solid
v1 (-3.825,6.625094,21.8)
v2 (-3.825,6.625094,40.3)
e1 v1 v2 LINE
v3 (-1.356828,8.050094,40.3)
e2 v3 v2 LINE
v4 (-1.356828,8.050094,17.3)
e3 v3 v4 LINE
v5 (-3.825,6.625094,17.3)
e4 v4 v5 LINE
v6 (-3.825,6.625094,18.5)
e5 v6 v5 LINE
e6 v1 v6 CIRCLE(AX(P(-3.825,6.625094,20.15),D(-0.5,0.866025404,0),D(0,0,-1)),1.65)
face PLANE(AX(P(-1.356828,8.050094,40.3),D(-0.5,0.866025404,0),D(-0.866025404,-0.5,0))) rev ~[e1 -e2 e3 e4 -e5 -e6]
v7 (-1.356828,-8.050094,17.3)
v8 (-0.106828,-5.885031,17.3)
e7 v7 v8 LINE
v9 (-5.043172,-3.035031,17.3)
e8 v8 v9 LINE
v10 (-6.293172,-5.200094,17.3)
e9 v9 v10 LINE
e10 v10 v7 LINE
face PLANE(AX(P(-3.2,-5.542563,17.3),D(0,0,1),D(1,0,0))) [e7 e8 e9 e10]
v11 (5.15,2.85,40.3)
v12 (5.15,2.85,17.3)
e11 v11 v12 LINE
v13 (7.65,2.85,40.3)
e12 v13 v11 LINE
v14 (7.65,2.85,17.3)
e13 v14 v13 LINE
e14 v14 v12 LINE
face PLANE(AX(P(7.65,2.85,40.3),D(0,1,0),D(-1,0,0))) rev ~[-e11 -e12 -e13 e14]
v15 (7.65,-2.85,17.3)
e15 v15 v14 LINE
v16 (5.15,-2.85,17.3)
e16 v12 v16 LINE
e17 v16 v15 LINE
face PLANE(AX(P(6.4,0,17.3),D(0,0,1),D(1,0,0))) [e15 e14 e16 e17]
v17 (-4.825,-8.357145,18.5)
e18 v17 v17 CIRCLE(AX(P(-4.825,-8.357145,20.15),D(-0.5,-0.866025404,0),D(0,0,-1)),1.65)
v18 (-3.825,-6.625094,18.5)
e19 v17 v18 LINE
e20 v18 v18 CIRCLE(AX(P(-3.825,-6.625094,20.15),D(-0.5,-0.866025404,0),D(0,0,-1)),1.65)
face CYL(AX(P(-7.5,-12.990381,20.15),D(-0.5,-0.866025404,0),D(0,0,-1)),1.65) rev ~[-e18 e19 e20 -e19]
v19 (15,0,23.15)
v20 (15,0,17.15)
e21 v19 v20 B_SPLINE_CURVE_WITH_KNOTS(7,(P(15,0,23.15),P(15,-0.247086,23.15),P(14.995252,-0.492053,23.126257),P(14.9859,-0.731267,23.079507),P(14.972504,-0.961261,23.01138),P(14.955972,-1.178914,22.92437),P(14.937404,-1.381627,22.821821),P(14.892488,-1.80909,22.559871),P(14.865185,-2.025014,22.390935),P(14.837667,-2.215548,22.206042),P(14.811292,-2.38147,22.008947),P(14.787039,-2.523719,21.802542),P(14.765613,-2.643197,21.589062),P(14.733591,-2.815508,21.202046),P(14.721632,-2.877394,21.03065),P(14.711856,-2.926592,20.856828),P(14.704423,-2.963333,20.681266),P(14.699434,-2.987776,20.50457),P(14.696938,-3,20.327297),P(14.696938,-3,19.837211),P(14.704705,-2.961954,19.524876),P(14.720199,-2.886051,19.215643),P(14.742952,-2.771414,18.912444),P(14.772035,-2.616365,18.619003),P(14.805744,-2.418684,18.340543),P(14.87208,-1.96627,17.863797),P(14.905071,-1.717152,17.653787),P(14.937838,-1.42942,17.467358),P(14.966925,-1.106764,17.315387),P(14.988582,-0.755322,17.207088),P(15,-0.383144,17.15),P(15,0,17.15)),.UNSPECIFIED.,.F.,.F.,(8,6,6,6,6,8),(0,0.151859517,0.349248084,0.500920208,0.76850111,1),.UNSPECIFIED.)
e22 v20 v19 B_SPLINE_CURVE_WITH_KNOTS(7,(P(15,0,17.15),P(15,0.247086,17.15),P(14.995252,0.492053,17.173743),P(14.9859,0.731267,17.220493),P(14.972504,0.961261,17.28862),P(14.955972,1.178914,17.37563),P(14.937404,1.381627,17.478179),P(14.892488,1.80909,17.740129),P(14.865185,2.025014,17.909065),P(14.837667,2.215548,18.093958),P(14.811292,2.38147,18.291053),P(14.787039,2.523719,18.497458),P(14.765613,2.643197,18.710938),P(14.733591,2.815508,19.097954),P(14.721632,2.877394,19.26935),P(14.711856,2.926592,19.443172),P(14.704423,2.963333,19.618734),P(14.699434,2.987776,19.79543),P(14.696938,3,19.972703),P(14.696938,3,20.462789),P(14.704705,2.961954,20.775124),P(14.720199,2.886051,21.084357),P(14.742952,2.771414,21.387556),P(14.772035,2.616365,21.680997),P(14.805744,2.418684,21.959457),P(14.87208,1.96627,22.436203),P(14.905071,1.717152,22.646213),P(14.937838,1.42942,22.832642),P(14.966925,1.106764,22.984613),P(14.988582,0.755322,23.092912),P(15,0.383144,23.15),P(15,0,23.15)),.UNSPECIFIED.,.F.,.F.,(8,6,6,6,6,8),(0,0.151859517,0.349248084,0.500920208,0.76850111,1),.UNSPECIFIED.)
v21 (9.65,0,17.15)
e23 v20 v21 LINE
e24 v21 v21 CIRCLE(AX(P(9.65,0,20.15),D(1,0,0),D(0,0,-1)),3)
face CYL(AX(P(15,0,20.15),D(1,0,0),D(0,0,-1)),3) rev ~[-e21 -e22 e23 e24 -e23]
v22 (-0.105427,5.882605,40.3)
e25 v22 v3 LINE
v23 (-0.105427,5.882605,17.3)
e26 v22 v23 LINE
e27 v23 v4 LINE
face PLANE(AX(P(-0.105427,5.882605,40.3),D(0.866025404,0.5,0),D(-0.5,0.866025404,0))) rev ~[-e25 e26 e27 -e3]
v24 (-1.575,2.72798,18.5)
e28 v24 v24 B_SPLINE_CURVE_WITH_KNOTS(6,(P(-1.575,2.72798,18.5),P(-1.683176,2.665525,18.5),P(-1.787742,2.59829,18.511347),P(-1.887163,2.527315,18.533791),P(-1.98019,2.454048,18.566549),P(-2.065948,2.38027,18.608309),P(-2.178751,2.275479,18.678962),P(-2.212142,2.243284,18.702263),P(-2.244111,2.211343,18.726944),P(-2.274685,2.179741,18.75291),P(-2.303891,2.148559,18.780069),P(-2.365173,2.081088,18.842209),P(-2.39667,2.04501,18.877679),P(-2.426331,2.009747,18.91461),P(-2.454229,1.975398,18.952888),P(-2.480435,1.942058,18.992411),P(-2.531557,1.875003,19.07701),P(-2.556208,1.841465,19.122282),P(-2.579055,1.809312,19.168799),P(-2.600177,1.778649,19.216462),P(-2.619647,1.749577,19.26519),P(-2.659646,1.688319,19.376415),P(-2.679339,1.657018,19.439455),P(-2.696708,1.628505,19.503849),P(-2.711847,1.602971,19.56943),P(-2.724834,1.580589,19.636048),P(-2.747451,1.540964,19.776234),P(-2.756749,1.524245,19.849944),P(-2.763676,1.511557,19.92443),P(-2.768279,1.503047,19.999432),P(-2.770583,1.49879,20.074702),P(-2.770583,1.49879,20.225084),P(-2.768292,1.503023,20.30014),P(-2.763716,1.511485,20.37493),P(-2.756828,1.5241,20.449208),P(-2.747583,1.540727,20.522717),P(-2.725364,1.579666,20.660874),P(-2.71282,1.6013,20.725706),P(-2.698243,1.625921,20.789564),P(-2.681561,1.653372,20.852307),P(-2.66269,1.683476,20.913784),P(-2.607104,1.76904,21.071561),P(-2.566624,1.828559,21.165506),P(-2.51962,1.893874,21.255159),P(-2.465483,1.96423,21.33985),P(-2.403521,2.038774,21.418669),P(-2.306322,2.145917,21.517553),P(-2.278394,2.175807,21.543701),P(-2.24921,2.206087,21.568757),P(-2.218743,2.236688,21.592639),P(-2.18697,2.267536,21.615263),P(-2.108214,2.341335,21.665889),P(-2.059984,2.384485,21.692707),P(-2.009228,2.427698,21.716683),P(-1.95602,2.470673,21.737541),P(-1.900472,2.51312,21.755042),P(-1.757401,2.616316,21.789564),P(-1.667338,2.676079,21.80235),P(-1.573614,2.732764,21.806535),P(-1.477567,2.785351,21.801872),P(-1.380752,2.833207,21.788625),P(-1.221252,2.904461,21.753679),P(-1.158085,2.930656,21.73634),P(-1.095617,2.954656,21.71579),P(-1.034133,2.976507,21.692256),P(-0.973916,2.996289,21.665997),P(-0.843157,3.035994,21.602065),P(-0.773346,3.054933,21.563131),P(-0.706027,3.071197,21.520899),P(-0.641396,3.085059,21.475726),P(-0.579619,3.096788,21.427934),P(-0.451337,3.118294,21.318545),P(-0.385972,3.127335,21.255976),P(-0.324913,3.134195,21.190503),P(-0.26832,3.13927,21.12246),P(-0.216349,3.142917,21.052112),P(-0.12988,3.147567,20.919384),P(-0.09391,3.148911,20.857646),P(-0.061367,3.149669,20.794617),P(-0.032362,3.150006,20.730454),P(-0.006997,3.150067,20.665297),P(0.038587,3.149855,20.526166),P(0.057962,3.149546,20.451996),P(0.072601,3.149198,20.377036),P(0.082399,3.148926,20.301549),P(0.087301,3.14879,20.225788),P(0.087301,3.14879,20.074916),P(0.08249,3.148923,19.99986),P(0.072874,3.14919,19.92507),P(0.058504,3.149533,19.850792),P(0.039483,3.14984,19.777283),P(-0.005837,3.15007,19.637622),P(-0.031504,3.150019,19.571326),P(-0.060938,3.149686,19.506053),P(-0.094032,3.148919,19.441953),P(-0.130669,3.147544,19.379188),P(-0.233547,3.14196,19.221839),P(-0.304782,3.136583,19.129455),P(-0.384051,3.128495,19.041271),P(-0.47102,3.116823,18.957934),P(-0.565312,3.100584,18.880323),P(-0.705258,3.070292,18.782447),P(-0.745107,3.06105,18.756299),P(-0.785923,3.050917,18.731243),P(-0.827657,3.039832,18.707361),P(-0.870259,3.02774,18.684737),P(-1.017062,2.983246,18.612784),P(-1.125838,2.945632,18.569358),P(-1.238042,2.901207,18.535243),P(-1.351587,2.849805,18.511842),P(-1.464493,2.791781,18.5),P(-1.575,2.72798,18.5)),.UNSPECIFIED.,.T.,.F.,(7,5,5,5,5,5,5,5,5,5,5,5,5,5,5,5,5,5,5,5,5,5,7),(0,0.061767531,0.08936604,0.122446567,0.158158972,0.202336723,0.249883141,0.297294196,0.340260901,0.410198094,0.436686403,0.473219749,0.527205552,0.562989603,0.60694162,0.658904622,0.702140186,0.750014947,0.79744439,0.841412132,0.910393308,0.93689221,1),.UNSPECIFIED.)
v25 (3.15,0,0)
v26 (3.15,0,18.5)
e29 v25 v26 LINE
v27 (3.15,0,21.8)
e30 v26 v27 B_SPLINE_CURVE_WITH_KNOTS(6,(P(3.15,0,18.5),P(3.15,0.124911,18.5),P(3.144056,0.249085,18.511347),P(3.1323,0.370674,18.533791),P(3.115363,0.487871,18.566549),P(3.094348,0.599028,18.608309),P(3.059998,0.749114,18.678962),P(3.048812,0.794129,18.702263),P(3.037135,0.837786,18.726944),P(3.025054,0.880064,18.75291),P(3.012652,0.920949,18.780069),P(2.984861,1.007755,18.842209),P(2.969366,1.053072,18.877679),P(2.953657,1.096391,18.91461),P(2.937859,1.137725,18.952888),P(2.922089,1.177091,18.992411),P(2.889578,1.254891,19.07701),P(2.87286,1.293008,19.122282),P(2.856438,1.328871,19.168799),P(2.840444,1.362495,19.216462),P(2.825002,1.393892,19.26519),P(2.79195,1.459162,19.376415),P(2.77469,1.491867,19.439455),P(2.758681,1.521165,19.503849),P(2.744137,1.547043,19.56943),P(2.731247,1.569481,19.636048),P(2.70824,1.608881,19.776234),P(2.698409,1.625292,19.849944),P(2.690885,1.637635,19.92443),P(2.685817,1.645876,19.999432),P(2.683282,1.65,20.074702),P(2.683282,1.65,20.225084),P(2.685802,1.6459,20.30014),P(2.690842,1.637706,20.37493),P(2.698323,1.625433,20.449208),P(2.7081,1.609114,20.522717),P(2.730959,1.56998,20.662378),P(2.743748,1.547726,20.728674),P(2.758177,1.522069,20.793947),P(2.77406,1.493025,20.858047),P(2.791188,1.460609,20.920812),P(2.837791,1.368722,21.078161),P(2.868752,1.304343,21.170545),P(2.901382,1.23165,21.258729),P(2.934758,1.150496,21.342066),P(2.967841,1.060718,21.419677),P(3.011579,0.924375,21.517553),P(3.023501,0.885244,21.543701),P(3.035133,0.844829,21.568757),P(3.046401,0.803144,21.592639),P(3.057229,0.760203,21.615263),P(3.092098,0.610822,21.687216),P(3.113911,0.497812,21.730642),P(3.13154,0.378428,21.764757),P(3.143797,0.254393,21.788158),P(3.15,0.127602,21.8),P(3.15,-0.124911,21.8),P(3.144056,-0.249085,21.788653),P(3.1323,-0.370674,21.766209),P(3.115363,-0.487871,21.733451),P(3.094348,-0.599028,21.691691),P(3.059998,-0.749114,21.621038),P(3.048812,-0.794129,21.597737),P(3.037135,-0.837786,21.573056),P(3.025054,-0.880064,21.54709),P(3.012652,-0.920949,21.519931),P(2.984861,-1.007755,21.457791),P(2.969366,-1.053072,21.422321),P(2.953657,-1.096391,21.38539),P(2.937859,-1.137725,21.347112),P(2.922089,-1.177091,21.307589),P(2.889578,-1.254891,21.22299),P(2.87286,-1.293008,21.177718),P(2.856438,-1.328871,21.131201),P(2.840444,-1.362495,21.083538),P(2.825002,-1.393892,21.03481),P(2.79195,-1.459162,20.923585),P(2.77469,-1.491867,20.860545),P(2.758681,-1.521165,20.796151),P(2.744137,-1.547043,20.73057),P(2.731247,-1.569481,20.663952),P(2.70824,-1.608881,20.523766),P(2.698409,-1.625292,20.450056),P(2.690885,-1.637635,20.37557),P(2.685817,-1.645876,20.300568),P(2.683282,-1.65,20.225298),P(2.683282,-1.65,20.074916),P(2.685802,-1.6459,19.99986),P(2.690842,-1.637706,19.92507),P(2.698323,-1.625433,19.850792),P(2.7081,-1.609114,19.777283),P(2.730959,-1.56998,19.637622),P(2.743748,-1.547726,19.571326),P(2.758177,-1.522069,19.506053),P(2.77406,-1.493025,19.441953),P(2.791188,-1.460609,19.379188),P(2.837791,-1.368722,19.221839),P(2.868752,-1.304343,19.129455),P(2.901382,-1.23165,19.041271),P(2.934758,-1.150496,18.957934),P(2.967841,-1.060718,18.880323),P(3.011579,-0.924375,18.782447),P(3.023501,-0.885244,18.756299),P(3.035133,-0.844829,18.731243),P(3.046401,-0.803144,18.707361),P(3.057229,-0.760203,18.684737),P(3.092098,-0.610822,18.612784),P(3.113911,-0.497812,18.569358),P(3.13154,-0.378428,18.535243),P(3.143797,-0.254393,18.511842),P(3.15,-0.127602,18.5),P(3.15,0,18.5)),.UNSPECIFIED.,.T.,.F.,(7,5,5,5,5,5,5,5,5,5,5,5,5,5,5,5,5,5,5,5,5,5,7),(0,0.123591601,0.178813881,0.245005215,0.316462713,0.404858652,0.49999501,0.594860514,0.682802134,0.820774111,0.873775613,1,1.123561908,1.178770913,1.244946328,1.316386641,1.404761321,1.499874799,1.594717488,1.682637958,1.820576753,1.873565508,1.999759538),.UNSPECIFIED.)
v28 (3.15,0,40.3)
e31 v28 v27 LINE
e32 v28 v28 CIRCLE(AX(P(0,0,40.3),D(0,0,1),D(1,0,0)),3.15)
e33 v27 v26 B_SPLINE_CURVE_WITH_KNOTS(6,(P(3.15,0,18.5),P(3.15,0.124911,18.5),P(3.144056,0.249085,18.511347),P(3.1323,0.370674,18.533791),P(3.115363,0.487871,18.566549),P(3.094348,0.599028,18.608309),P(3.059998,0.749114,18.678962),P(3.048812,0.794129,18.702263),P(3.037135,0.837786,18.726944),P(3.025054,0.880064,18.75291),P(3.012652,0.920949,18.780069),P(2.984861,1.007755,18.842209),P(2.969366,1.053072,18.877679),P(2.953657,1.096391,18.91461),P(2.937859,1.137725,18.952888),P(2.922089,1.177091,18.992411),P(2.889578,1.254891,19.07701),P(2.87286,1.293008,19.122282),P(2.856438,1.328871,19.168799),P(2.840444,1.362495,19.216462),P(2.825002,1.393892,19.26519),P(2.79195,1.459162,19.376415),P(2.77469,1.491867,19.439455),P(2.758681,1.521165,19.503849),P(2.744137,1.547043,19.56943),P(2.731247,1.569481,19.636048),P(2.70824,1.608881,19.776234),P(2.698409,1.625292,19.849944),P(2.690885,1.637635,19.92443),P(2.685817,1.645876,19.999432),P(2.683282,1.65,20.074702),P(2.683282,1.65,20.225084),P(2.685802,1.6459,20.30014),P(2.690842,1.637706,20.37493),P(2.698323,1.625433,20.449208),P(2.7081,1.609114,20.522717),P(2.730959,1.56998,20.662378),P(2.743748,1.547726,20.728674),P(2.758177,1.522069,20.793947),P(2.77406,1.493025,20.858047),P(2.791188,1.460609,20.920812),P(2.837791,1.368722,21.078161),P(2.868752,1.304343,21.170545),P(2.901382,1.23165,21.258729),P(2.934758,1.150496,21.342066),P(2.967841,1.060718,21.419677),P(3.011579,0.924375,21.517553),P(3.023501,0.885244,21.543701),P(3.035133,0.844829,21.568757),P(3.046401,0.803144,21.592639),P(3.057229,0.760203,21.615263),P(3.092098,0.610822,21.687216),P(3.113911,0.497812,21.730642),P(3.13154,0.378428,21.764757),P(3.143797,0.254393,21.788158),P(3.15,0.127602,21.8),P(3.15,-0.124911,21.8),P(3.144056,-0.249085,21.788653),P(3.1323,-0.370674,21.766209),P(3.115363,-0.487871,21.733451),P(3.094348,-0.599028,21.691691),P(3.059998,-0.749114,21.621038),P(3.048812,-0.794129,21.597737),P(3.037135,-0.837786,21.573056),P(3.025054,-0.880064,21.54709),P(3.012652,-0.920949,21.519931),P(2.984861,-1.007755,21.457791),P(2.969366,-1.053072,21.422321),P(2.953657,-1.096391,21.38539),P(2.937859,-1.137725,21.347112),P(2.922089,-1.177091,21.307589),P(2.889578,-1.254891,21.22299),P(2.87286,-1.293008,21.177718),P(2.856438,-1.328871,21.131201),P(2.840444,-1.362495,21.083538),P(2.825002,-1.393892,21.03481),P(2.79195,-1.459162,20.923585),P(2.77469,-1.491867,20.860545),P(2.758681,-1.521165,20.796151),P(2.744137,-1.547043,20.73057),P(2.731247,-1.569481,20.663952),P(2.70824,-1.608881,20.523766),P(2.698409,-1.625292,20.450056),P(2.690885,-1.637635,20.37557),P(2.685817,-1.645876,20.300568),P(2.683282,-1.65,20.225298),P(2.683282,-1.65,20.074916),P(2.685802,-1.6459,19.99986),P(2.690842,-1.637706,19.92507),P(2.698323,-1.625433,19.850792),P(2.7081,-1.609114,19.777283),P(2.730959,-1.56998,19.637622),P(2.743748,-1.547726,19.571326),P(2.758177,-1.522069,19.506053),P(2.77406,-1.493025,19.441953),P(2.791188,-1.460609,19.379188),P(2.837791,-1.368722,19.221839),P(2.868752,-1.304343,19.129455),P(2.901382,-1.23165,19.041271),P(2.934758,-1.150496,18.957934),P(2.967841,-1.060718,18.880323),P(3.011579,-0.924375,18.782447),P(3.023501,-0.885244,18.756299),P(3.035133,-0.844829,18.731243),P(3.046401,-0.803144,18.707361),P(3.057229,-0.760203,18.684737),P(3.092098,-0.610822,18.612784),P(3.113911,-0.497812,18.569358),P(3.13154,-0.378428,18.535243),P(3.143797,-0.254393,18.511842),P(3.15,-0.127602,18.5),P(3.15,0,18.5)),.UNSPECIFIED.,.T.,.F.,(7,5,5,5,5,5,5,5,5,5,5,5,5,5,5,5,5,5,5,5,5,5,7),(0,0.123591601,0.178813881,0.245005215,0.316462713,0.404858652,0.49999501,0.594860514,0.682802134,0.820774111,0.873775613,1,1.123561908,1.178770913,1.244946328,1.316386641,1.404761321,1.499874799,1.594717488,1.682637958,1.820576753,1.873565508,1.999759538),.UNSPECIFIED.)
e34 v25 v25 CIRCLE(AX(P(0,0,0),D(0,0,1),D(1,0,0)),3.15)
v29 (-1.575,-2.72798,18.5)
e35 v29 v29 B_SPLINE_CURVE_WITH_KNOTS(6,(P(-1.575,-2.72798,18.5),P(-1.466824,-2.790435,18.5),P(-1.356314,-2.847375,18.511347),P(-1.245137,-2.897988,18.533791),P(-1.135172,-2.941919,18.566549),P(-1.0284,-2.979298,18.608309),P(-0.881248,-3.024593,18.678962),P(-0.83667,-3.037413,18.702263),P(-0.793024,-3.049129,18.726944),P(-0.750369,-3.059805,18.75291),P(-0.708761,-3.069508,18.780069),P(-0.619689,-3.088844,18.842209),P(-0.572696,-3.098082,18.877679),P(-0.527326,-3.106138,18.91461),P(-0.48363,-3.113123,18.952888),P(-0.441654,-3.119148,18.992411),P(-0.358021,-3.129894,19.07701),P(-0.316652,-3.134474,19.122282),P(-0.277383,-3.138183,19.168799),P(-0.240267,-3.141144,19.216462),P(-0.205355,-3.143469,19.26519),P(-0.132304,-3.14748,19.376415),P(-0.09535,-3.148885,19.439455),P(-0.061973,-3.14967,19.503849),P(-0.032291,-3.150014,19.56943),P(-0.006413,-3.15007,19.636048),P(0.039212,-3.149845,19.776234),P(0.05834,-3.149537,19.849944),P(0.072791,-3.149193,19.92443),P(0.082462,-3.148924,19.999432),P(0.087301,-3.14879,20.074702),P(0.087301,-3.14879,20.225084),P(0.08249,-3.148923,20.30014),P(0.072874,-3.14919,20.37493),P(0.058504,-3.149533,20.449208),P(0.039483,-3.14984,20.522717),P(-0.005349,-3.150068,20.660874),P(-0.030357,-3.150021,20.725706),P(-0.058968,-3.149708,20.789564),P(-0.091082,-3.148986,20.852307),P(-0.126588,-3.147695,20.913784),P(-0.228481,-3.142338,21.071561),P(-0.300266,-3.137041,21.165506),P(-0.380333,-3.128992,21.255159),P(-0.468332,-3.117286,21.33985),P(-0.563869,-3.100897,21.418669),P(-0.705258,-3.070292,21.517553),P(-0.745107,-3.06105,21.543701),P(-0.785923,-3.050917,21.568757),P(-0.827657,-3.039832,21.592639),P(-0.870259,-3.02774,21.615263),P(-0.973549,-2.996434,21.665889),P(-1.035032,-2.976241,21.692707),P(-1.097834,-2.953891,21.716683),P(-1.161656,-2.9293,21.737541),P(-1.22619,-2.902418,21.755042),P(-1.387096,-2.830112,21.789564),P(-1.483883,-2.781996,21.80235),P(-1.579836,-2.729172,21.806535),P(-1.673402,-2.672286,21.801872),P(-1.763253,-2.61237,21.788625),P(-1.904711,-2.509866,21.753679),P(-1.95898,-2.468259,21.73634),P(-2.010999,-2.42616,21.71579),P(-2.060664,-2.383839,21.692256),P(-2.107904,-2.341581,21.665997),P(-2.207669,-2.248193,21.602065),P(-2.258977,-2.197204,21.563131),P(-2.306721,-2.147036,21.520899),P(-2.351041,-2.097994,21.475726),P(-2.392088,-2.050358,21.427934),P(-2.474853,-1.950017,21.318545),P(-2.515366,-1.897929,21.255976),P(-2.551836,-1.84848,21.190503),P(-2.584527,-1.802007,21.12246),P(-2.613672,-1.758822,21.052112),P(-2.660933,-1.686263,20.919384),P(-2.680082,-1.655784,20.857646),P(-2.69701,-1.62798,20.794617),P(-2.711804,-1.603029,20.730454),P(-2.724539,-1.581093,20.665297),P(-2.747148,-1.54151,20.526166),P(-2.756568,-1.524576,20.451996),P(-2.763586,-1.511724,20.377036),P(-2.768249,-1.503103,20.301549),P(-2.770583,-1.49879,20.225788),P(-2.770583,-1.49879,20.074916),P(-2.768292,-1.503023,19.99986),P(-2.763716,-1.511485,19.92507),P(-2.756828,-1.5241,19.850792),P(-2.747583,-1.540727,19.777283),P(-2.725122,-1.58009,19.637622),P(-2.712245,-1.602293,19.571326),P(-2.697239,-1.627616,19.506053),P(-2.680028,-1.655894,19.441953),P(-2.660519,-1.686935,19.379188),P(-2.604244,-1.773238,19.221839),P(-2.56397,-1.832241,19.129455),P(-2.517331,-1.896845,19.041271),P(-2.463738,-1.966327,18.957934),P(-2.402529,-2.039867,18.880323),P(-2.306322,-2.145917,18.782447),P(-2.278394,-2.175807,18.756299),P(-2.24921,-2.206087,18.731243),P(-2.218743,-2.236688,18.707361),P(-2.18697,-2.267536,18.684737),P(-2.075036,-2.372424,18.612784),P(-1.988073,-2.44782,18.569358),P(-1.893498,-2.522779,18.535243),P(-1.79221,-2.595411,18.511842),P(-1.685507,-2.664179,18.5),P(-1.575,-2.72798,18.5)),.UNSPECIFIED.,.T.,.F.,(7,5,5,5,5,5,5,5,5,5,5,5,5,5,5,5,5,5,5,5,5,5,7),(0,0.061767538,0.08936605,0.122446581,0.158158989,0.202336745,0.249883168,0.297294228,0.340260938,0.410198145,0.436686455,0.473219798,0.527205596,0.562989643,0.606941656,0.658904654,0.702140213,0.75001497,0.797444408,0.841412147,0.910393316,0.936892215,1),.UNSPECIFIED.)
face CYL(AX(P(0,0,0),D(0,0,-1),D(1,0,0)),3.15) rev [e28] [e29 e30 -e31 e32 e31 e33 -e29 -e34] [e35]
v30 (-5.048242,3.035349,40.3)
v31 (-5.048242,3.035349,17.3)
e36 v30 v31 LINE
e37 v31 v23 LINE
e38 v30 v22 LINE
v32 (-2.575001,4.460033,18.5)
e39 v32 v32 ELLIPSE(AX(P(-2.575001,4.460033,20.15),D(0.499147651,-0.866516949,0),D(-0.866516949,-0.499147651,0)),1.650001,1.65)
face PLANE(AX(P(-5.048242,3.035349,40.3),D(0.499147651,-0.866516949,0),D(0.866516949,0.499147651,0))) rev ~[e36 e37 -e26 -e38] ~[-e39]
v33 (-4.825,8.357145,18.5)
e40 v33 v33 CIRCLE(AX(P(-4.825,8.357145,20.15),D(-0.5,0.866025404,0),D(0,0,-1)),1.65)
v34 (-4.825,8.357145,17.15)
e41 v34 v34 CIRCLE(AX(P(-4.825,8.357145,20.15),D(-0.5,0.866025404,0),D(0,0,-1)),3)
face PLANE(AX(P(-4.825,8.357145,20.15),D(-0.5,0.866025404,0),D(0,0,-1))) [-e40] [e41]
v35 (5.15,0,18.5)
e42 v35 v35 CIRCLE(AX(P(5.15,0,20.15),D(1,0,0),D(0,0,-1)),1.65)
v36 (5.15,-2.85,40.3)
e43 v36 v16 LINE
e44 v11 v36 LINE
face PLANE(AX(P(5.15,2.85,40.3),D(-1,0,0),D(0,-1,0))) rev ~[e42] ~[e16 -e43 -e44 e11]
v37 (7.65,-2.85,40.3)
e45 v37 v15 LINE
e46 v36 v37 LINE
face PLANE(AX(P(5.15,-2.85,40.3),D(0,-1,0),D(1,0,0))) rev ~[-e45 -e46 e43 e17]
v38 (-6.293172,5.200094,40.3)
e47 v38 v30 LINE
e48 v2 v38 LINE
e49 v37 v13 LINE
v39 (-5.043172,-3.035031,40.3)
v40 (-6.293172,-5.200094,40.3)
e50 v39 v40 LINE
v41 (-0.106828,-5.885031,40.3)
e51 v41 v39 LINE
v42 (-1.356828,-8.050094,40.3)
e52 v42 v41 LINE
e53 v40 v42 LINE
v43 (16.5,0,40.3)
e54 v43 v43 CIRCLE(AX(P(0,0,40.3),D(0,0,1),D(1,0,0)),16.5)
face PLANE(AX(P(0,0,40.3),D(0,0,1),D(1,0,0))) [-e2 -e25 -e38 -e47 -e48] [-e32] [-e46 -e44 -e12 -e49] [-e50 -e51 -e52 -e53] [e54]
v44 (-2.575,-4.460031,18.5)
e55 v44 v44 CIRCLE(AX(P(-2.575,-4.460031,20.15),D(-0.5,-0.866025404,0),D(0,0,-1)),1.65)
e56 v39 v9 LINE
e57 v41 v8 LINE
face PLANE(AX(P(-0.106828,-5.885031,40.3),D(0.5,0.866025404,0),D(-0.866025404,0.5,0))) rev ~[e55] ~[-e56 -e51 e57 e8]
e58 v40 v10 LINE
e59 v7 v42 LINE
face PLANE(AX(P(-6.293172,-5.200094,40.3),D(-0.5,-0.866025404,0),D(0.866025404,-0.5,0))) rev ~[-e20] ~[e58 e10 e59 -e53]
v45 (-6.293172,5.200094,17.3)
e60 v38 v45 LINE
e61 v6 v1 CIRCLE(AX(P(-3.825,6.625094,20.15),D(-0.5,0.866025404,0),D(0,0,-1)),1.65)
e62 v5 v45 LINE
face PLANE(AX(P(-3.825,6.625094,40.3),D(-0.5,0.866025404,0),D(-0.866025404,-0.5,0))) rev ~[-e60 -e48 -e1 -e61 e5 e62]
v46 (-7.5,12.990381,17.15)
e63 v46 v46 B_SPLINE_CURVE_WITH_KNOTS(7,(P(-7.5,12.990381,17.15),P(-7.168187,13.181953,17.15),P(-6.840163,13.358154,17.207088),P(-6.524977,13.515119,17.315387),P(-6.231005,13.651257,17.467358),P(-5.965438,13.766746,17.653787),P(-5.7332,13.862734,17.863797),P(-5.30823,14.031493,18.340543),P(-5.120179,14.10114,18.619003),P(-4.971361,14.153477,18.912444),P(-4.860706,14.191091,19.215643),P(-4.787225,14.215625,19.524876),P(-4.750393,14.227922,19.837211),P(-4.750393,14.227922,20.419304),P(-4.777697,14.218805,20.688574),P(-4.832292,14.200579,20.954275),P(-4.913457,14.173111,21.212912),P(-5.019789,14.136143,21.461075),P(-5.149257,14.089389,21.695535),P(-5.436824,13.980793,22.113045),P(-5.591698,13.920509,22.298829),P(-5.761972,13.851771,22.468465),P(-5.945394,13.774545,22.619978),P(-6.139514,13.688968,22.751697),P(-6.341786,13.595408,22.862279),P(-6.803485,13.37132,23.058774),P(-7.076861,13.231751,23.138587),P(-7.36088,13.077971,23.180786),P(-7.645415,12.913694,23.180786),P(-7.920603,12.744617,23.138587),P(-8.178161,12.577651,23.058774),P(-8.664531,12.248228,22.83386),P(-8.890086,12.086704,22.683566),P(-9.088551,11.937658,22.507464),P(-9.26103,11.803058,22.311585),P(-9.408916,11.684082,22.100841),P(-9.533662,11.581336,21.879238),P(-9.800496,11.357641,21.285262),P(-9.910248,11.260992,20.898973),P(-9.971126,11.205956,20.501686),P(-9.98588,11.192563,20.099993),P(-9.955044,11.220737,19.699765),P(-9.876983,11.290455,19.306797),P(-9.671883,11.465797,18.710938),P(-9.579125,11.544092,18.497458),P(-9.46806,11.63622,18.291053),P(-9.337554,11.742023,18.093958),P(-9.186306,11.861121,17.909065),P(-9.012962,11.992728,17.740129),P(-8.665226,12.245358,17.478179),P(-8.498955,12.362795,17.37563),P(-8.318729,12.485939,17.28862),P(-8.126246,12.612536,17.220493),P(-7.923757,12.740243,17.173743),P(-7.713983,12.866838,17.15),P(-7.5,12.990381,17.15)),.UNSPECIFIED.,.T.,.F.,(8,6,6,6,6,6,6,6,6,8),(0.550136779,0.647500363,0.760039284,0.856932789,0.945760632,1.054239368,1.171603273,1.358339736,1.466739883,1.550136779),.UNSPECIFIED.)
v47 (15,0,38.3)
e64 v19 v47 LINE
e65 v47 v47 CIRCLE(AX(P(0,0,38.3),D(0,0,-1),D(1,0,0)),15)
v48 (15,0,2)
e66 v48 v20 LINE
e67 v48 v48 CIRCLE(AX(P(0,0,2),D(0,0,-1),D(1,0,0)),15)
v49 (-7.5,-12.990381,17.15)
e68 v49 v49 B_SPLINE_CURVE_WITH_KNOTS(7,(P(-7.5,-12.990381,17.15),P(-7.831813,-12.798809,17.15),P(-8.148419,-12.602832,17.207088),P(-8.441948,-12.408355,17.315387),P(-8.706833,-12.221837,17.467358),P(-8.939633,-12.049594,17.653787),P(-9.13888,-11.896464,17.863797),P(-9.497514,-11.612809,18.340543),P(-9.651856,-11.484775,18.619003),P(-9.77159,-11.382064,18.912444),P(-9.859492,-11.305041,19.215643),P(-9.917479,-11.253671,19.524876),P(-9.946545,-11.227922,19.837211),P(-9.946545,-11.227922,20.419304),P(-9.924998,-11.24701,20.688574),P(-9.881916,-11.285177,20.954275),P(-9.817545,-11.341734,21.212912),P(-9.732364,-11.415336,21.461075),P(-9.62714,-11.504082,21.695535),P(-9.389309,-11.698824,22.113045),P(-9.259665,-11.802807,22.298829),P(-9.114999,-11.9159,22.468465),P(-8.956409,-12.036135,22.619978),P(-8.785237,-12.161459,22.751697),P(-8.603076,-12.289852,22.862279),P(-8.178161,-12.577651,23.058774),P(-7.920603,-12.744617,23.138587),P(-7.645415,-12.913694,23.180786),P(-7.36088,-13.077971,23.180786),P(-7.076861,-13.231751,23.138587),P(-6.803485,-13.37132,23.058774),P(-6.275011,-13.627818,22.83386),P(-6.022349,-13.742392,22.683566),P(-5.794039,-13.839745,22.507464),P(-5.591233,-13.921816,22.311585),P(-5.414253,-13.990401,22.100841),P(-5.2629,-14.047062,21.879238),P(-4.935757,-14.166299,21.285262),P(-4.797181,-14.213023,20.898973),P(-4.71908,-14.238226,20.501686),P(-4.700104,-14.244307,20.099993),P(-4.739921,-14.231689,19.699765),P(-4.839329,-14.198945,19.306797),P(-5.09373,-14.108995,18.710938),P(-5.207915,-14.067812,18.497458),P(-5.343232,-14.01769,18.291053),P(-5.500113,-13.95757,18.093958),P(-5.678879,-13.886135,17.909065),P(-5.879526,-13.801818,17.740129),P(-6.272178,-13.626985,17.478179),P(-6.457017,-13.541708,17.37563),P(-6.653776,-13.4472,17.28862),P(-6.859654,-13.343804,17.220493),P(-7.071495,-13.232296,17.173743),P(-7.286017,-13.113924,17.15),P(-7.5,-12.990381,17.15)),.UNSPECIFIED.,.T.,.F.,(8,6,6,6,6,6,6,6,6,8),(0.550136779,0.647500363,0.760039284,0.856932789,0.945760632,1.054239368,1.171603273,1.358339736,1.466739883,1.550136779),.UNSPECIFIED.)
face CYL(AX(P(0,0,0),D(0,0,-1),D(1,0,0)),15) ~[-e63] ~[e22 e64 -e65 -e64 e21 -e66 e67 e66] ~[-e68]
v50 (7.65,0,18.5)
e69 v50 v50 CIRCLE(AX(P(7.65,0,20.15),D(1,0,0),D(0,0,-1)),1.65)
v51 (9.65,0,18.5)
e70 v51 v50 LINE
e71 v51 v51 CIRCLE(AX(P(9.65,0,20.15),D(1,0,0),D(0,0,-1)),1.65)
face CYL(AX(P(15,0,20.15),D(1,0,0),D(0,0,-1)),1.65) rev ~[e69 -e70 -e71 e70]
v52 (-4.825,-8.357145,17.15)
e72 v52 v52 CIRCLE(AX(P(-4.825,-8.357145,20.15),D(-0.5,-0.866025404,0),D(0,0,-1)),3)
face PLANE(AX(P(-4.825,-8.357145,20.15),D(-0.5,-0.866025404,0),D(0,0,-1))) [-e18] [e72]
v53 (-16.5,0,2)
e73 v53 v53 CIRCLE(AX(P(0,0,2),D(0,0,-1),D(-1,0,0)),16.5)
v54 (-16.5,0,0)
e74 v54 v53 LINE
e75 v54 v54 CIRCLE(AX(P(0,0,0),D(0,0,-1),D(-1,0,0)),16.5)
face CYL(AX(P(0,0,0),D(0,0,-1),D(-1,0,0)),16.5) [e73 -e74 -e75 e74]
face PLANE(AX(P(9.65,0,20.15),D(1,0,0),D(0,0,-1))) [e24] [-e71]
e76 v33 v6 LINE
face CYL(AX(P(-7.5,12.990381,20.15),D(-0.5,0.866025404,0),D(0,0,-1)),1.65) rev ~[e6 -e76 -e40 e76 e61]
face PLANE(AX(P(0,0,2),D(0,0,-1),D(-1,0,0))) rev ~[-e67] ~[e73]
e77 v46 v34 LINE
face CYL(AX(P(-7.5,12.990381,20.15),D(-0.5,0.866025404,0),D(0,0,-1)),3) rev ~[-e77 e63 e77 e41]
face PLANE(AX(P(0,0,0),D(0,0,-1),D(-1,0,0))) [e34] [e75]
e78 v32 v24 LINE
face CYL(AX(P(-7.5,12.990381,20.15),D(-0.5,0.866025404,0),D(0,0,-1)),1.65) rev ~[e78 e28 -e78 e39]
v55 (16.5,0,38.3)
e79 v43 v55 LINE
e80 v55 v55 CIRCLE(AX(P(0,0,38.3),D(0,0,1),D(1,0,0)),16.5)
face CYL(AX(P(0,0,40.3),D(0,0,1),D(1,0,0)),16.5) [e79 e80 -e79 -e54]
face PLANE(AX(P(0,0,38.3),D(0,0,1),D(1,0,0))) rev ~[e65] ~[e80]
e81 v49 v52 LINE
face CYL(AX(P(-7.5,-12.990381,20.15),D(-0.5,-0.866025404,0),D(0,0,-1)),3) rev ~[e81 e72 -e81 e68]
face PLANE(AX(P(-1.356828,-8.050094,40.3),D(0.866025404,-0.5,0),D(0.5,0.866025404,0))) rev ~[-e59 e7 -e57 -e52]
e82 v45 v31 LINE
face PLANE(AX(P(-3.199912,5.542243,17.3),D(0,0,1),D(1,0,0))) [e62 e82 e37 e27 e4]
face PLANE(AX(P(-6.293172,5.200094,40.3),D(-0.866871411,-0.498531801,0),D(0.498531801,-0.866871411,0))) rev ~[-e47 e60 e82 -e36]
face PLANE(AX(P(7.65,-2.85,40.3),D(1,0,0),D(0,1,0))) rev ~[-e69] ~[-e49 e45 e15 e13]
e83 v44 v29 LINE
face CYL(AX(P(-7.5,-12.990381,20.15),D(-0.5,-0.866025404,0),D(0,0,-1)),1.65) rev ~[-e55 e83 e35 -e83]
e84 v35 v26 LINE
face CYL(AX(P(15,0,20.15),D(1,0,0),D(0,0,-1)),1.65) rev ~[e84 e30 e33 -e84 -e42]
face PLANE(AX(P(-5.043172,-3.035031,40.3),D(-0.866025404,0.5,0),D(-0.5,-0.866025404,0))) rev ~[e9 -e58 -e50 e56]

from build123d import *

# Parameters (mm, degrees)
SKETCH1_R           = 15
SKETCH1_R_2         = 3.15
BOSS_EXTRUDE1_DEPTH = 40.3
CUT_EXTRUDE1_DEPTH  = 23
CUT_EXTRUDE4_REACH  = 37.49
SKETCH8_R           = 1.65
CUT_EXTRUDE5_REACH  = 37.49
SKETCH10_R          = 1.65
SKETCH12_R          = 3
CUT_EXTRUDE6_DEPTH  = 5.35
SKETCH15_R          = 3
CUT_EXTRUDE8_DEPTH  = 5.35
CUT_EXTRUDE9_REACH  = 37.49
SKETCH17_R          = 1.65
CUT_EXTRUDE10_REACH = 37.49
SKETCH18_R          = 1.65
SKETCH19_R          = 3
CUT_EXTRUDE11_DEPTH = 5.35
CUT_EXTRUDE12_REACH = 32
SKETCH20_R          = 1.65
CUT_EXTRUDE13_REACH = 32
SKETCH21_R          = 1.65
SKETCH22_R          = 16.5
SKETCH22_R_2        = 3.15
SKETCH22_W          = 2.5
SKETCH22_H          = 5.7
BOSS_EXTRUDE3_DEPTH = 2
SKETCH23_R          = 16.5
SKETCH23_R_2        = 3.15
BOSS_EXTRUDE4_DEPTH = 2


with BuildPart() as part:
    # Sketch1 → Boss-Extrude1 (new body)
    with BuildSketch(Plane.XY):
        Circle(SKETCH1_R)
        Circle(SKETCH1_R_2, mode=Mode.SUBTRACT)
    extrude(amount=BOSS_EXTRUDE1_DEPTH)

    # Sketch2 → Cut-Extrude1 (cut)
    with BuildSketch(Plane.XY.offset(40.3)):
        Polygon((7.65, 0), (7.65, 2.85), (5.15, 2.85), (5.15, -2.85), (7.65, -2.85), align=None)
        Polygon((-3.825, -6.625094339), (-1.356827599, -8.050094339), (-0.106827599, -5.885030829), (-5.043172401, -3.035030829), (-6.293172401, -5.200094339), align=None)
        Polygon((-3.825, 6.625094339), (-6.293172401, 5.200094339), (-5.048242412, 3.035349353), (-0.105426694, 5.882604512), (-1.356827546, 8.050094369), align=None)
    extrude(amount=-CUT_EXTRUDE1_DEPTH, mode=Mode.SUBTRACT)

    # Sketch8 → Cut-Extrude4 (cut, up to next)
    with BuildSketch(Plane(origin=(-7.5, -12.990381057, 0), x_dir=(0, 0, -1), z_dir=(-0.5, -0.866025404, 0)), mode=Mode.PRIVATE) as cut_extrude4_sk1:
        with Locations((-20.15, 0)):
            Circle(SKETCH8_R)
    cut_extrude4_tool1 = extrude(cut_extrude4_sk1.sketch, amount=-CUT_EXTRUDE4_REACH, mode=Mode.PRIVATE) & part.part
    add(cut_extrude4_tool1.solids().sort_by_distance((-7.5, -12.990381, 20.15))[0], mode=Mode.SUBTRACT)

    # Sketch10 → Cut-Extrude5 (cut, up to next)
    with BuildSketch(Plane(origin=(-7.5, -12.990381057, 0), x_dir=(0, 0, -1), z_dir=(-0.5, -0.866025404, 0)), mode=Mode.PRIVATE) as cut_extrude5_sk1:
        with Locations((-20.15, 0)):
            Circle(SKETCH10_R)
    cut_extrude5_tool1 = extrude(cut_extrude5_sk1.sketch, amount=-CUT_EXTRUDE5_REACH, mode=Mode.PRIVATE) & part.part
    add(cut_extrude5_tool1.solids().sort_by_distance((-7.5, -12.990381, 20.15))[0], mode=Mode.SUBTRACT)

    # Sketch12 → Cut-Extrude6 (cut)
    with BuildSketch(Plane(origin=(-7.5, -12.990381057, 0), x_dir=(0, 0, -1), z_dir=(-0.5, -0.866025404, 0))):
        with Locations((-20.15, 0)):
            Circle(SKETCH12_R)
    extrude(amount=-CUT_EXTRUDE6_DEPTH, mode=Mode.SUBTRACT)

    # Sketch15 → Cut-Extrude8 (cut)
    with BuildSketch(Plane(origin=(-7.5, 12.990381057, 0), x_dir=(0, 0, -1), z_dir=(-0.5, 0.866025404, 0))):
        with Locations((-20.15, 0)):
            Circle(SKETCH15_R)
    extrude(amount=-CUT_EXTRUDE8_DEPTH, mode=Mode.SUBTRACT)

    # Sketch17 → Cut-Extrude9 (cut, up to next)
    with BuildSketch(Plane(origin=(-7.5, 12.990381057, 0), x_dir=(0, 0, -1), z_dir=(-0.5, 0.866025404, 0)), mode=Mode.PRIVATE) as cut_extrude9_sk1:
        with Locations((-20.15, 0)):
            Circle(SKETCH17_R)
    cut_extrude9_tool1 = extrude(cut_extrude9_sk1.sketch, amount=-CUT_EXTRUDE9_REACH, mode=Mode.PRIVATE) & part.part
    add(cut_extrude9_tool1.solids().sort_by_distance((-7.5, 12.990381, 20.15))[0], mode=Mode.SUBTRACT)

    # Sketch18 → Cut-Extrude10 (cut, up to next)
    with BuildSketch(Plane(origin=(-7.5, 12.990381057, 0), x_dir=(0, 0, -1), z_dir=(-0.5, 0.866025404, 0)), mode=Mode.PRIVATE) as cut_extrude10_sk1:
        with Locations((-20.15, 0)):
            Circle(SKETCH18_R)
    cut_extrude10_tool1 = extrude(cut_extrude10_sk1.sketch, amount=-CUT_EXTRUDE10_REACH, mode=Mode.PRIVATE) & part.part
    add(cut_extrude10_tool1.solids().sort_by_distance((-7.5, 12.990381, 20.15))[0], mode=Mode.SUBTRACT)

    # Sketch19 → Cut-Extrude11 (cut)
    with BuildSketch(Plane(origin=(15, 0, 0), x_dir=(0, 0, -1), z_dir=(1, 0, 0))):
        with Locations((-20.15, 0)):
            Circle(SKETCH19_R)
    extrude(amount=-CUT_EXTRUDE11_DEPTH, mode=Mode.SUBTRACT)

    # Sketch20 → Cut-Extrude12 (cut, up to next)
    with BuildSketch(Plane(origin=(15, 0, 0), x_dir=(0, 0, -1), z_dir=(1, 0, 0)), mode=Mode.PRIVATE) as cut_extrude12_sk1:
        with Locations((-20.15, 0)):
            Circle(SKETCH20_R)
    cut_extrude12_tool1 = extrude(cut_extrude12_sk1.sketch, amount=-CUT_EXTRUDE12_REACH, mode=Mode.PRIVATE) & part.part
    add(cut_extrude12_tool1.solids().sort_by_distance((15, 0, 20.15))[0], mode=Mode.SUBTRACT)

    # Sketch21 → Cut-Extrude13 (cut, up to next)
    with BuildSketch(Plane(origin=(15, 0, 0), x_dir=(0, 0, -1), z_dir=(1, 0, 0)), mode=Mode.PRIVATE) as cut_extrude13_sk1:
        with Locations((-20.15, 0)):
            Circle(SKETCH21_R)
    cut_extrude13_tool1 = extrude(cut_extrude13_sk1.sketch, amount=-CUT_EXTRUDE13_REACH, mode=Mode.PRIVATE) & part.part
    add(cut_extrude13_tool1.solids().sort_by_distance((15, 0, 20.15))[0], mode=Mode.SUBTRACT)

    # Sketch22 → Boss-Extrude3 (add)
    with BuildSketch(Plane.XY.offset(40.3)):
        Circle(SKETCH22_R)
        Circle(SKETCH22_R_2, mode=Mode.SUBTRACT)
        Polygon((-1.356827599, -8.050094339), (-0.106827599, -5.885030829), (-5.043172401, -3.035030829), (-6.293172401, -5.200094339), align=None, mode=Mode.SUBTRACT)
        with Locations((6.4, 0)):
            Rectangle(SKETCH22_W, SKETCH22_H, mode=Mode.SUBTRACT)
        Polygon((-5.048242412, 3.035349353), (-0.105426694, 5.882604512), (-1.356827546, 8.050094369), (-6.293172401, 5.200094339), align=None, mode=Mode.SUBTRACT)
    extrude(amount=-BOSS_EXTRUDE3_DEPTH)

    # Sketch23 → Boss-Extrude4 (add)
    with BuildSketch(Plane(origin=(0, 0, 0), x_dir=(-1, 0, 0), z_dir=(0, 0, -1))):
        Circle(SKETCH23_R)
        Circle(SKETCH23_R_2, mode=Mode.SUBTRACT)
    extrude(amount=-BOSS_EXTRUDE4_DEPTH)


solid = part.part
